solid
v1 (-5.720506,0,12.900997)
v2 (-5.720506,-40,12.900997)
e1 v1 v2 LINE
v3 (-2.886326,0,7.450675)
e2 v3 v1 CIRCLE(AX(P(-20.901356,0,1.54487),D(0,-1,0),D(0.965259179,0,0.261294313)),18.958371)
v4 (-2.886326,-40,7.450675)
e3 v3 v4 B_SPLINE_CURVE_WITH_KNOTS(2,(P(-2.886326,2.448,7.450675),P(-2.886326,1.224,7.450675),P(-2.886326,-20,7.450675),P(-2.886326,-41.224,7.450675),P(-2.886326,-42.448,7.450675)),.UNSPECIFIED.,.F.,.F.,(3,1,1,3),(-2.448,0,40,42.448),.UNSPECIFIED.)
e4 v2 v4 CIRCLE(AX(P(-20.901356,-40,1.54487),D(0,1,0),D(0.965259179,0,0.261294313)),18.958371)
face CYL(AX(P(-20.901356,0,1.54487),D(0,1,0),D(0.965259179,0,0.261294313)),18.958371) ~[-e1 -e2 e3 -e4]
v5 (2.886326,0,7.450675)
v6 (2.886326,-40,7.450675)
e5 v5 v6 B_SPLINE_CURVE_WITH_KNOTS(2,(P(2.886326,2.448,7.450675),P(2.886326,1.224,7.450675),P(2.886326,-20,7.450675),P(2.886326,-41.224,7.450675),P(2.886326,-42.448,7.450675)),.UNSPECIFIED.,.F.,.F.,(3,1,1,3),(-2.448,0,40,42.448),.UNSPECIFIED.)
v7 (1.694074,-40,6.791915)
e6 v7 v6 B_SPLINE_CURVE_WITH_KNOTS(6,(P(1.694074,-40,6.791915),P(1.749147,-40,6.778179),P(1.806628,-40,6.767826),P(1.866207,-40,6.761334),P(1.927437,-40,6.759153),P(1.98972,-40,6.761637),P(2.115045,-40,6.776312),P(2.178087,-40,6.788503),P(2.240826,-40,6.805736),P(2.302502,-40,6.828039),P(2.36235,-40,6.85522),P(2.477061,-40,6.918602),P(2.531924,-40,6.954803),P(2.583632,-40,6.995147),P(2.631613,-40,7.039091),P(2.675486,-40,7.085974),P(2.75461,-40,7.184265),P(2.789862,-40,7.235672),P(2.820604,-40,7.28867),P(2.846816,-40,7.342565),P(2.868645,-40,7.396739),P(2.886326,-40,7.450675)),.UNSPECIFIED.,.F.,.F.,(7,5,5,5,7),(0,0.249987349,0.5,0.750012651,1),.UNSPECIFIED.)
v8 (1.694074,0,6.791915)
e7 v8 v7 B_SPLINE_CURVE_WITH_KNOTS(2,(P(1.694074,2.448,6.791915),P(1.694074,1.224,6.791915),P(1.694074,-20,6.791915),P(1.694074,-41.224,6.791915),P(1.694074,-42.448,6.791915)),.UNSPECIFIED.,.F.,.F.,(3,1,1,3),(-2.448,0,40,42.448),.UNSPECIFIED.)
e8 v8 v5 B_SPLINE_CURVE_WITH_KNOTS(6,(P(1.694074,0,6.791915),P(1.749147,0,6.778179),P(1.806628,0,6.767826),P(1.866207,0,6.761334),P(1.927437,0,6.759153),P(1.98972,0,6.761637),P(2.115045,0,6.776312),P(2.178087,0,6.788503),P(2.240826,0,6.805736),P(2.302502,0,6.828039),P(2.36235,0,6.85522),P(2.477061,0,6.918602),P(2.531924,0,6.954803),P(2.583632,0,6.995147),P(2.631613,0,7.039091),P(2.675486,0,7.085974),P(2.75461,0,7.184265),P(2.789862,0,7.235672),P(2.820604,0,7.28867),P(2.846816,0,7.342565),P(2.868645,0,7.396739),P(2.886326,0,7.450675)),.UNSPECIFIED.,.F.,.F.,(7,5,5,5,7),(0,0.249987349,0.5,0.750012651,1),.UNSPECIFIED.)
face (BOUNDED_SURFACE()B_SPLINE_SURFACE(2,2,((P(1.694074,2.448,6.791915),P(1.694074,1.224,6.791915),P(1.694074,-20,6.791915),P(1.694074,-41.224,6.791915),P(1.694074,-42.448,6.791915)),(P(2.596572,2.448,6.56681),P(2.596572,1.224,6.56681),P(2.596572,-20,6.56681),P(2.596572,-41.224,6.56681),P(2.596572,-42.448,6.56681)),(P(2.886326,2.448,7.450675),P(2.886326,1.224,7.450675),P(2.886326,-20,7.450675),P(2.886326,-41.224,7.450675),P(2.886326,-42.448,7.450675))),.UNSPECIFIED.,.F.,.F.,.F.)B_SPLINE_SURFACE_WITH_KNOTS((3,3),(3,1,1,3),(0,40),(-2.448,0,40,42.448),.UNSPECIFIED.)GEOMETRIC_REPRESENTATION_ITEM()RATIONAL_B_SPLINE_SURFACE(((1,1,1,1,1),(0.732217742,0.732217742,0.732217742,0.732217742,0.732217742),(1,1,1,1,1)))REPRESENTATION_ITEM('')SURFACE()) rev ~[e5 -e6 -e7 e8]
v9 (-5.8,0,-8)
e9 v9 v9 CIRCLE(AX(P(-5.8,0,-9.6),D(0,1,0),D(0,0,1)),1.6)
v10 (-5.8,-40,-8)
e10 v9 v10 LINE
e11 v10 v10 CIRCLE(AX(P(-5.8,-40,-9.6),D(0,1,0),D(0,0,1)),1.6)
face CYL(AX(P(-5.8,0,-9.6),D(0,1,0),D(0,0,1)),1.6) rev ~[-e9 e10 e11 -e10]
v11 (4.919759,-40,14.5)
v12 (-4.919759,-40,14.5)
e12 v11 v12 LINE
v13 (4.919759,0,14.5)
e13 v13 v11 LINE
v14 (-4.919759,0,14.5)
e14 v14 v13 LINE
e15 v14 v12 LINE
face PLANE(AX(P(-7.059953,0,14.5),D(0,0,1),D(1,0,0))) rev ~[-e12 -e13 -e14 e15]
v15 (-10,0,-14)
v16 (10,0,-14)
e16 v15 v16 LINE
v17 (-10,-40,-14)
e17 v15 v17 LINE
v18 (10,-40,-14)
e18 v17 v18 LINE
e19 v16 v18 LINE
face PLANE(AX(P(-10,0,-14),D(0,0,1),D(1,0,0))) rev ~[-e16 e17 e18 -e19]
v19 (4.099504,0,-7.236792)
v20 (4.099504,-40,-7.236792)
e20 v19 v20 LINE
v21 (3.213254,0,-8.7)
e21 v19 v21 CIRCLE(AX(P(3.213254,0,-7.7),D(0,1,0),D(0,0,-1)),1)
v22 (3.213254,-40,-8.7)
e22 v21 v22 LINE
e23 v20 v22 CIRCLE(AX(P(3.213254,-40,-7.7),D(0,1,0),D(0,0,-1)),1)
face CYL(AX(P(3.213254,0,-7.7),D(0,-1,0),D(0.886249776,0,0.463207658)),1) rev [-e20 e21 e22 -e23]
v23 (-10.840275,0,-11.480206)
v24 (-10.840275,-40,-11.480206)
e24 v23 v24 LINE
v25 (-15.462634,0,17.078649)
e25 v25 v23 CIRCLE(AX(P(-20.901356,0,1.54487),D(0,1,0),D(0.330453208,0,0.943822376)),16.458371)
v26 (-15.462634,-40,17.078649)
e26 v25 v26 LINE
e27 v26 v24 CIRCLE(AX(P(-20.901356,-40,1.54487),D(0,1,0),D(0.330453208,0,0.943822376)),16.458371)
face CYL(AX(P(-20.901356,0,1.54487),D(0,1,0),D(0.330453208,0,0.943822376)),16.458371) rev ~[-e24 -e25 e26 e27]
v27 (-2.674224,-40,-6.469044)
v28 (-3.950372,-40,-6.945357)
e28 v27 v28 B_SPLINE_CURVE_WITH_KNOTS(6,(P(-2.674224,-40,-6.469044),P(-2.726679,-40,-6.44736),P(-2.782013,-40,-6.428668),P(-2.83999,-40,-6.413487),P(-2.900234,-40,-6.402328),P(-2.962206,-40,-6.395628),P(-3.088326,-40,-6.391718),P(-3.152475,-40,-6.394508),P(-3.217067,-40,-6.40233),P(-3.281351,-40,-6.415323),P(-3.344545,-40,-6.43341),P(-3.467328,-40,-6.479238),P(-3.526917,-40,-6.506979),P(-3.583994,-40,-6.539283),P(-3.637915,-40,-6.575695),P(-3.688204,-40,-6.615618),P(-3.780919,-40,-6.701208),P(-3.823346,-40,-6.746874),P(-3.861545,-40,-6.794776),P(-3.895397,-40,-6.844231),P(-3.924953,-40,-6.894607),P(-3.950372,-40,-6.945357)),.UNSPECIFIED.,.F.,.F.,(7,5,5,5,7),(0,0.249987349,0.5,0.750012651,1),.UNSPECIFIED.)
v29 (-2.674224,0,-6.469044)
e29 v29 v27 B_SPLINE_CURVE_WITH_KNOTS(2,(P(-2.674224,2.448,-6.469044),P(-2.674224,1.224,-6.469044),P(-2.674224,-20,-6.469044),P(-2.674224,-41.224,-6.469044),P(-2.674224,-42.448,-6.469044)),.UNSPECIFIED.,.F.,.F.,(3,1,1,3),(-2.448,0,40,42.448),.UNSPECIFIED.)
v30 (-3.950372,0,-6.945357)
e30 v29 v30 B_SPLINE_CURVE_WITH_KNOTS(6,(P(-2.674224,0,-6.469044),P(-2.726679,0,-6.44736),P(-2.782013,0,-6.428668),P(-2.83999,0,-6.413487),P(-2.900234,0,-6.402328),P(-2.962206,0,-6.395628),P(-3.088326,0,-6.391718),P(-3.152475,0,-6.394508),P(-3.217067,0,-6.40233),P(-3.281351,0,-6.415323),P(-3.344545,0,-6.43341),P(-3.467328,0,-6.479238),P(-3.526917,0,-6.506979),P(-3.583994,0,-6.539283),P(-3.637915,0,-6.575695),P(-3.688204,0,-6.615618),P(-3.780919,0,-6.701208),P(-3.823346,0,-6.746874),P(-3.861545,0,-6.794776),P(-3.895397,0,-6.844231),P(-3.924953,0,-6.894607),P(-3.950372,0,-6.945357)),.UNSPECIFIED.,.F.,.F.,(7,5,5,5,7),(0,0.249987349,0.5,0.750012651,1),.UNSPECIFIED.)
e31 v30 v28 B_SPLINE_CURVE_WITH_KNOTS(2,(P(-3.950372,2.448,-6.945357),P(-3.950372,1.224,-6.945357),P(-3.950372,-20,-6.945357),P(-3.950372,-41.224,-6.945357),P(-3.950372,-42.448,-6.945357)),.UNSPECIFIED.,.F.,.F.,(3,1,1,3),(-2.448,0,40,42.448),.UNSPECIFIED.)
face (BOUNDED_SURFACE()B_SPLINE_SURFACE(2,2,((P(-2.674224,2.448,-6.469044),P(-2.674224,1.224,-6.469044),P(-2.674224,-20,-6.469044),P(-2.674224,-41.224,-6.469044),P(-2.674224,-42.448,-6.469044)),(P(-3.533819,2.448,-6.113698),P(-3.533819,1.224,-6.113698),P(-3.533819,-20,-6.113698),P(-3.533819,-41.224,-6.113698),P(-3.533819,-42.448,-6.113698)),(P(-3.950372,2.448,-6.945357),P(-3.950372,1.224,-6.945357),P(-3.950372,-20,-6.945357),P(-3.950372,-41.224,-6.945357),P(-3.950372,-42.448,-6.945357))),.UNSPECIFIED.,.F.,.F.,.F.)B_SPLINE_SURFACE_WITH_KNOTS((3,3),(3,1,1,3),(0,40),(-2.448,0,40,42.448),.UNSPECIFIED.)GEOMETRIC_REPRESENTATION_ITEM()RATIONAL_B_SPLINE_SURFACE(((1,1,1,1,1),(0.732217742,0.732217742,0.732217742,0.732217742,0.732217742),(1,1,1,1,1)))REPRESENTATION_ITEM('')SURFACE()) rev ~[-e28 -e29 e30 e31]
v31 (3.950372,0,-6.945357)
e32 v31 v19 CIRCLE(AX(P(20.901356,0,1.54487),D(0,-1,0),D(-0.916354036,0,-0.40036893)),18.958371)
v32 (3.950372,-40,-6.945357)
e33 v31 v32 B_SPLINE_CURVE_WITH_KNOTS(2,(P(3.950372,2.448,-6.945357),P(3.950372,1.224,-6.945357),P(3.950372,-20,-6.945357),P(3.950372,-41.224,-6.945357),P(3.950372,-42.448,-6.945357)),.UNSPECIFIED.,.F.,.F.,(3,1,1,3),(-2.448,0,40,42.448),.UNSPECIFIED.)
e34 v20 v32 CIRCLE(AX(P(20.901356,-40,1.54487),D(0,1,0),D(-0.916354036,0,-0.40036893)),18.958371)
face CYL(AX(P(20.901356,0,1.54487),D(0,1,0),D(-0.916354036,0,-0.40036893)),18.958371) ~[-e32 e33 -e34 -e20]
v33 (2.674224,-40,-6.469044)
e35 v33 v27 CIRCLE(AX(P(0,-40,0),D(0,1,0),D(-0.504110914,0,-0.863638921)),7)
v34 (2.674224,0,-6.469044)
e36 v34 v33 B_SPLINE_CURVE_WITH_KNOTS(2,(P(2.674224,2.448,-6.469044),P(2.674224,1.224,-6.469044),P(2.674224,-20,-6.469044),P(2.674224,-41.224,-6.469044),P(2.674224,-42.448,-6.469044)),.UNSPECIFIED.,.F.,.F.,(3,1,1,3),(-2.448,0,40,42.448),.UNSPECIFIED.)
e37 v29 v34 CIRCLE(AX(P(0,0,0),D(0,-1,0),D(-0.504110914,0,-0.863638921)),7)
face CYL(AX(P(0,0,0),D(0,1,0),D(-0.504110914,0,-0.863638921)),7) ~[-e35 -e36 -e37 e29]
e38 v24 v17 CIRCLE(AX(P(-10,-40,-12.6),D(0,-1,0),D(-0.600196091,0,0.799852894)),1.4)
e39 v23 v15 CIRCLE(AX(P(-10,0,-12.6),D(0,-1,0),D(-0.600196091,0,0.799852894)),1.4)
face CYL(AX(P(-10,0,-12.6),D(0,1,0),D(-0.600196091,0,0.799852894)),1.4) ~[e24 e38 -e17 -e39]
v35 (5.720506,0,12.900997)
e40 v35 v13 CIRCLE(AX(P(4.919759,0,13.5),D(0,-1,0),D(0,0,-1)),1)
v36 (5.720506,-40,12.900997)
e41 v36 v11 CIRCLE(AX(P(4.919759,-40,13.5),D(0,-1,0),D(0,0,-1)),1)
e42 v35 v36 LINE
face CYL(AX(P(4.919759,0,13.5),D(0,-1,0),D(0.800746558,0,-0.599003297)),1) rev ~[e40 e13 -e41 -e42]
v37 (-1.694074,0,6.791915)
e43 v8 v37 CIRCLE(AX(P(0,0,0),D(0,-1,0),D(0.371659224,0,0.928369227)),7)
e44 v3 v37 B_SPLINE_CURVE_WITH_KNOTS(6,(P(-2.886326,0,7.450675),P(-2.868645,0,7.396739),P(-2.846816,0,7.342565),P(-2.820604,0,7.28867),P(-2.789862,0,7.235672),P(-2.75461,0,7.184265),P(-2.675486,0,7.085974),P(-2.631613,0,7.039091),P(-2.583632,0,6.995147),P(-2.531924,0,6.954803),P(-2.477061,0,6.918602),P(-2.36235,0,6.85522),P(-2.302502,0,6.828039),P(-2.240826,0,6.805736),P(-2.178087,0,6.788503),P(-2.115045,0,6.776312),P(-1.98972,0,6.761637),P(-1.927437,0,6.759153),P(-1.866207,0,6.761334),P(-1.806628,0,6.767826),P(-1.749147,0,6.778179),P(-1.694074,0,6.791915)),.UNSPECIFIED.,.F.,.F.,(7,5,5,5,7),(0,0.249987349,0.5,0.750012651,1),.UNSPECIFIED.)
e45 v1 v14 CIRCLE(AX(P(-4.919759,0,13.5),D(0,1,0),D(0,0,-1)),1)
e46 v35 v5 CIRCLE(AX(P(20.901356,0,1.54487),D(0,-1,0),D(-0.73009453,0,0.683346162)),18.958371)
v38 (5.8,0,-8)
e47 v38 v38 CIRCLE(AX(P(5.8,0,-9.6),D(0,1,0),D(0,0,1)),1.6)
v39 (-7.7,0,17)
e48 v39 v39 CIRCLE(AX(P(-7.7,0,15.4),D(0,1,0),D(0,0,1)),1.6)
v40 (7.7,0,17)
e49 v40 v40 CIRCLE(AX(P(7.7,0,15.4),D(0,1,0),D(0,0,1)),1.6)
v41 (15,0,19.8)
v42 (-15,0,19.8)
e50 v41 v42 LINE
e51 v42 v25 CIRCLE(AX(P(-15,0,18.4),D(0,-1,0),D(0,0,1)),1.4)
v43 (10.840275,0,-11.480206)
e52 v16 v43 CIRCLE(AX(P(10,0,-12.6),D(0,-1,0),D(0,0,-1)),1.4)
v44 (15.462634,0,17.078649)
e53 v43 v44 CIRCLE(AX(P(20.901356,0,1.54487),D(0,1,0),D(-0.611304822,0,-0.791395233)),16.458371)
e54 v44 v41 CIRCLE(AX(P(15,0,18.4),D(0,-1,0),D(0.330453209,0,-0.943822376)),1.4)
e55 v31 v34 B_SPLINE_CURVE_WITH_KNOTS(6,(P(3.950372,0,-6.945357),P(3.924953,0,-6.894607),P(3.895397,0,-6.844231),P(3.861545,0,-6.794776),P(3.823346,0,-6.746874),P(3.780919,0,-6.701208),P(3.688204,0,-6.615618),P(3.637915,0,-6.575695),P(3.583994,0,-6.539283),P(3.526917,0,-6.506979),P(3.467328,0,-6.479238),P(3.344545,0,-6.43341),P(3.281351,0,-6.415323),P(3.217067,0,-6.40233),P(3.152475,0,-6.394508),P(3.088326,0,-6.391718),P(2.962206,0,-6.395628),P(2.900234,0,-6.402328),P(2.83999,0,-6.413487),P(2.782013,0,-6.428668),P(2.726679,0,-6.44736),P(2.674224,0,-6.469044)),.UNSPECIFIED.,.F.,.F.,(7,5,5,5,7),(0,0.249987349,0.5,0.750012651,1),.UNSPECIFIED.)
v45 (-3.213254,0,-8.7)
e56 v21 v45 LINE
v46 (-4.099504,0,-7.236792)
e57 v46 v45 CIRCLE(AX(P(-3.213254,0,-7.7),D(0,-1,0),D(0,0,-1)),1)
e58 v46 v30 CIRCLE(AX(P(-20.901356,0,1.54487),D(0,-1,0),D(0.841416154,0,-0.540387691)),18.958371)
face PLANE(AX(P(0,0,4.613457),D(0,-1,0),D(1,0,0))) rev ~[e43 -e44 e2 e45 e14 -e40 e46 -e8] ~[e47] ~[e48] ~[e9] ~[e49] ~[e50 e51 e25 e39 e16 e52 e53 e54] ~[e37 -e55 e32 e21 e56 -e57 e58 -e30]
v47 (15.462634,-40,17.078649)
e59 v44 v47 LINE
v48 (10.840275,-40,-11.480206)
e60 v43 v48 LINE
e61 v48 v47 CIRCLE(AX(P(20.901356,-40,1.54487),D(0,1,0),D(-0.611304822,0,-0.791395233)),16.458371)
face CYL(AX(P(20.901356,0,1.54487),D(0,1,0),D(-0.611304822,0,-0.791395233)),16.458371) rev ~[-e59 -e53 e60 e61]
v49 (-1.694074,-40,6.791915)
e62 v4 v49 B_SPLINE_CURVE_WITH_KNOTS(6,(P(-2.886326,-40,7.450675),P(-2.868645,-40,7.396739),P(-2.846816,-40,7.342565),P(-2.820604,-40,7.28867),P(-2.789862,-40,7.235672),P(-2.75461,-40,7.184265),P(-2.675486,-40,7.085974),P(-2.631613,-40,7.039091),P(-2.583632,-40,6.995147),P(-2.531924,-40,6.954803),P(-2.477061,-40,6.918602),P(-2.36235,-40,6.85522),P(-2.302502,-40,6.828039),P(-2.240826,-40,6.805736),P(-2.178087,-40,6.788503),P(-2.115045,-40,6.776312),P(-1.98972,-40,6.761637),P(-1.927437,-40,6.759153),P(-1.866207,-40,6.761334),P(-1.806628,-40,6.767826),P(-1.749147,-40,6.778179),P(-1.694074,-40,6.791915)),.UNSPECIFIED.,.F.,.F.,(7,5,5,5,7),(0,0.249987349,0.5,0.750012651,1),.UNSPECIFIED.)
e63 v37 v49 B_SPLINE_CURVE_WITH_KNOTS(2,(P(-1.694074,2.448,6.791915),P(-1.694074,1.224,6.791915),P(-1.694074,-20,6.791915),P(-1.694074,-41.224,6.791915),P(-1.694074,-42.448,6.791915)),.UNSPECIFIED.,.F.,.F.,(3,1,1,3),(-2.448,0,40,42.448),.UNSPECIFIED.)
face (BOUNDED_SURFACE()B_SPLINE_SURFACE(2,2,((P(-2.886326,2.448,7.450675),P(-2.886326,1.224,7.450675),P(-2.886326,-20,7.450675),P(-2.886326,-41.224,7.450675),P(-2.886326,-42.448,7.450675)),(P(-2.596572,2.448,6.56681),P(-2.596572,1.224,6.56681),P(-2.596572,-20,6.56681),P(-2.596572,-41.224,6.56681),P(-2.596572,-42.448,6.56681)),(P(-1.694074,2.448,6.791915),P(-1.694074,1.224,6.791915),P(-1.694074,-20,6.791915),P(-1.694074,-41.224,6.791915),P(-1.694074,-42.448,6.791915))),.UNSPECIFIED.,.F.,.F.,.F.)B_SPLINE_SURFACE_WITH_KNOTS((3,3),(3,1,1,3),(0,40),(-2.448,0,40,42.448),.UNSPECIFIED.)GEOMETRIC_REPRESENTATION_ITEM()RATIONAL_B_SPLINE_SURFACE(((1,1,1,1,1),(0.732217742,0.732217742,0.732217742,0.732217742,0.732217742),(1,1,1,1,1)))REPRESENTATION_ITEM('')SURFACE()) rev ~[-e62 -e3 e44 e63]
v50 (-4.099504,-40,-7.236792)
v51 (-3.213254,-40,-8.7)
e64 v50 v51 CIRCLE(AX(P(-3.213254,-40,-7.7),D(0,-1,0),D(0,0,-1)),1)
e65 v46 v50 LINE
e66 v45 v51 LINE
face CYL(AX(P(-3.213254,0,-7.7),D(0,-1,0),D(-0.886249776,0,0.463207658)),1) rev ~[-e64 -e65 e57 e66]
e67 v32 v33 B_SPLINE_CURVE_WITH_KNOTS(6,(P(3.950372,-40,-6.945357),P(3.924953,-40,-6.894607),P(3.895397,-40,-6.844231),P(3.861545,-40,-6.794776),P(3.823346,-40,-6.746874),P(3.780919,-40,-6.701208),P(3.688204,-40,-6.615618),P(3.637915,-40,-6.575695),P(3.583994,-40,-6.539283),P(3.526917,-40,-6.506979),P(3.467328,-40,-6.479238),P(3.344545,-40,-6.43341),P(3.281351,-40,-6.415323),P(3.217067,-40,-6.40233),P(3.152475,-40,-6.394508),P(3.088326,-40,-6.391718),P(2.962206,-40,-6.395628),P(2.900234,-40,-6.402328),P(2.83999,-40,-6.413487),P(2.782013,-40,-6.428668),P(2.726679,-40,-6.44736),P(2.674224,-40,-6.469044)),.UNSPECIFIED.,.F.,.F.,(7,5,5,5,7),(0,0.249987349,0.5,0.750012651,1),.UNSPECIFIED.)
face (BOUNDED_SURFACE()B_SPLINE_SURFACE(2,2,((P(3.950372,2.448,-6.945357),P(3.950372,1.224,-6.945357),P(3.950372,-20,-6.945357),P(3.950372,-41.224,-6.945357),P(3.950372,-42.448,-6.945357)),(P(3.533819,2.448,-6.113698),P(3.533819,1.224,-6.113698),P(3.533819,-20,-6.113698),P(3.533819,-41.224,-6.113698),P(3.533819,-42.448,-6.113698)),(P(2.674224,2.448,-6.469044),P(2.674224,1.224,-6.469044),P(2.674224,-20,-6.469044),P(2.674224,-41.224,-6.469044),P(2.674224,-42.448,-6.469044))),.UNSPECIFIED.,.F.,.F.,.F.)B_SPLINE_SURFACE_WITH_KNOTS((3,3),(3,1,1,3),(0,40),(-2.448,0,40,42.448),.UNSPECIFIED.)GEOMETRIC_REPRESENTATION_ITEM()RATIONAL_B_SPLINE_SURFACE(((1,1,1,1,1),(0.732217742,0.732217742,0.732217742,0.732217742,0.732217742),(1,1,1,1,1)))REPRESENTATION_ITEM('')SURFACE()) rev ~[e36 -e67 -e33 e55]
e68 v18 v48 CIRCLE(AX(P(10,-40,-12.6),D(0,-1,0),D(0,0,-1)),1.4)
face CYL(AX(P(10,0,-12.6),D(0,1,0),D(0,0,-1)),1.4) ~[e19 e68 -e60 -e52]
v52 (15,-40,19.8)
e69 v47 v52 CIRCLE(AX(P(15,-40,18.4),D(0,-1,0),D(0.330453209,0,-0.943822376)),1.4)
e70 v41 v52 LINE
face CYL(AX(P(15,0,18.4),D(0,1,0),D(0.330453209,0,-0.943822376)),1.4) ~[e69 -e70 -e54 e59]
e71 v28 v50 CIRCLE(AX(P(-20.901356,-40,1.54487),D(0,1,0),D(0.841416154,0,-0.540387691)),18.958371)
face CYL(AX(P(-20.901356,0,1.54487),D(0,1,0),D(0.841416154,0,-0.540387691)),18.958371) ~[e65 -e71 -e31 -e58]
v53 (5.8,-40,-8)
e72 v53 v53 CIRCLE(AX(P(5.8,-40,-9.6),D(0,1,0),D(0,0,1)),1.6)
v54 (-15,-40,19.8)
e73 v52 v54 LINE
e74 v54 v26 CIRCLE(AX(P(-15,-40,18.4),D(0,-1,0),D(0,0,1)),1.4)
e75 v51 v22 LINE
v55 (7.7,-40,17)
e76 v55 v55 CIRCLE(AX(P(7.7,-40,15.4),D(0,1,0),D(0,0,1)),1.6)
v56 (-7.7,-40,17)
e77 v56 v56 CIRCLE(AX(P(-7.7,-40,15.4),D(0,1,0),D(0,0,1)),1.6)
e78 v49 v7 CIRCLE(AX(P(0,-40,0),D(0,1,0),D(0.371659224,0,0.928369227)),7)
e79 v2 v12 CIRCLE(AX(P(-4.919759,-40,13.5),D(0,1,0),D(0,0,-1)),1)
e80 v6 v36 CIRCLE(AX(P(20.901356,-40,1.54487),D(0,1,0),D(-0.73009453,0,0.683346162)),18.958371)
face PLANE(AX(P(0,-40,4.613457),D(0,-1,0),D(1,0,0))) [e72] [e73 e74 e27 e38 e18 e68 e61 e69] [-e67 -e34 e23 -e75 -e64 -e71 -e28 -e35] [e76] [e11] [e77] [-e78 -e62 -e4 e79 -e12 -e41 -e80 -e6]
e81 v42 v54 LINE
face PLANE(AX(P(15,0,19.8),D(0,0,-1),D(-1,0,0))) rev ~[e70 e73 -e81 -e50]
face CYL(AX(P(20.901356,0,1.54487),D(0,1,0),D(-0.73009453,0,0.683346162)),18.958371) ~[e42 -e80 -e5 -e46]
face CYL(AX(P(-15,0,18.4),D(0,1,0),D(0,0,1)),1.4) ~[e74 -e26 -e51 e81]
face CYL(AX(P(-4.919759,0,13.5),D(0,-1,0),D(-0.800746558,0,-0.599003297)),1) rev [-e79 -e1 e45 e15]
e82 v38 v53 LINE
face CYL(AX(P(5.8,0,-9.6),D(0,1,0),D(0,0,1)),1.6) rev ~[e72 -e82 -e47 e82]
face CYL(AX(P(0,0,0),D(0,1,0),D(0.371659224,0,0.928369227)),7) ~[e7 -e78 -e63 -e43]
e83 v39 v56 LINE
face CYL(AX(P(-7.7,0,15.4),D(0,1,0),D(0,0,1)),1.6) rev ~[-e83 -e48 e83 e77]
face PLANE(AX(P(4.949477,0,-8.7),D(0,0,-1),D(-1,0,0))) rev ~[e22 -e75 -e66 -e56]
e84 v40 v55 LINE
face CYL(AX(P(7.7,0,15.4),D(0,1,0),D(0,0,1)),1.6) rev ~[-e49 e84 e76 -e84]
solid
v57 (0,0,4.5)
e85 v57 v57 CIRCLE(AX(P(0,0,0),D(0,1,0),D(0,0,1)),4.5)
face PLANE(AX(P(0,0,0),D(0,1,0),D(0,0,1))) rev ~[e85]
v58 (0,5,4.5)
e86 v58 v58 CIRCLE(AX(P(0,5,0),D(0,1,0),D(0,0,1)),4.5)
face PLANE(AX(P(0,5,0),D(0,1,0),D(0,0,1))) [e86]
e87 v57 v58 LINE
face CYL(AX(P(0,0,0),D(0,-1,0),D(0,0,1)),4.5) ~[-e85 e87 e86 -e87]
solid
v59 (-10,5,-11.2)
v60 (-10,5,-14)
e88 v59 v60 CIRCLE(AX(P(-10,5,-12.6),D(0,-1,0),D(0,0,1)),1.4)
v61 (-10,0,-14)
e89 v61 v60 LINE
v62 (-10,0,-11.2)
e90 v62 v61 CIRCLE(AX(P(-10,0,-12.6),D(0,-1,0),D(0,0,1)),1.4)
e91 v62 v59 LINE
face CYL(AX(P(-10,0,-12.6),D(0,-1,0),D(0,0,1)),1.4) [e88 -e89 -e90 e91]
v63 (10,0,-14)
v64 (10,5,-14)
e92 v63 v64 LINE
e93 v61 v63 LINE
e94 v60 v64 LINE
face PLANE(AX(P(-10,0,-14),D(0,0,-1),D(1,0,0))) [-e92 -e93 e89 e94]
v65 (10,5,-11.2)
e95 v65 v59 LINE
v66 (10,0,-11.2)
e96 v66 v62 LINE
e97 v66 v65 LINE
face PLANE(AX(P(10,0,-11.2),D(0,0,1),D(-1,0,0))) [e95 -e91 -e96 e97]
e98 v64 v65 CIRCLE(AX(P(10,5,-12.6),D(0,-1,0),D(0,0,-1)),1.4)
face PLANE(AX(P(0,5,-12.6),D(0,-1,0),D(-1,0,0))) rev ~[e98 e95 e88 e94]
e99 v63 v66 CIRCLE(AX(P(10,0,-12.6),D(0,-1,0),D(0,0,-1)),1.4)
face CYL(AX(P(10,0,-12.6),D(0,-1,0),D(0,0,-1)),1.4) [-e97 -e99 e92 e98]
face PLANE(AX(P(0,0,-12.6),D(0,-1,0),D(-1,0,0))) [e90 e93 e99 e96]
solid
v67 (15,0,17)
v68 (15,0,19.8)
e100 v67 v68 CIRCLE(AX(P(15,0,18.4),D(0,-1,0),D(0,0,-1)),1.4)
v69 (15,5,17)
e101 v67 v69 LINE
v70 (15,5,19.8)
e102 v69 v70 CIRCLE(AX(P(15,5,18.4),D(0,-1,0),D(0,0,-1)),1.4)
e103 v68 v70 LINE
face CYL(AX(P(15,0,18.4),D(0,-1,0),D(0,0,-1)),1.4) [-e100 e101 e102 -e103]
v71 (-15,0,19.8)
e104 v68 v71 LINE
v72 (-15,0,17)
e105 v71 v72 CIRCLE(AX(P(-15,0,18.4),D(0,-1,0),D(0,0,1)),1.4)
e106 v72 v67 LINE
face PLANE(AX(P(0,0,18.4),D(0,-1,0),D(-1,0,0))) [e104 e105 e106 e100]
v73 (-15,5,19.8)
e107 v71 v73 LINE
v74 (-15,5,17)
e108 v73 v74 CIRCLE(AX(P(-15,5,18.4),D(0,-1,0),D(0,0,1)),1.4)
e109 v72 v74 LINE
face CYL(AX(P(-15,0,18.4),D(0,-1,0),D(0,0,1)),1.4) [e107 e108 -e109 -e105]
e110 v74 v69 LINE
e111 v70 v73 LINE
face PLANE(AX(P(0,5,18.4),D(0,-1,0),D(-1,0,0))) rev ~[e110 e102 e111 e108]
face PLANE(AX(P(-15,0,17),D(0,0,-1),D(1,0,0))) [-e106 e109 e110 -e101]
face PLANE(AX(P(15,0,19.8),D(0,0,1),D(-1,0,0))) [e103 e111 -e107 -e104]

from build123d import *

# Parameters (mm, degrees)
SKETCH1_R             = 4.5
BOSS_EXTRUDE1_DEPTH   = 5
BOSS_EXTRUDE1_2_DEPTH = 5
BOSS_EXTRUDE1_3_DEPTH = 5
BOSS_EXTRUDE2_DEPTH   = 40
CUT_EXTRUDE1_DEPTH    = 48.549973712
FILLET1_R             = 1
CUT_EXTRUDE2_DEPTH    = 48.549973872
FILLET2_R             = 1
SKETCH5_R             = 1.6
CUT_EXTRUDE3_DEPTH    = 48.549973872


with BuildPart() as part:
    # Sketch1 → Boss-Extrude1 (new body)
    with BuildSketch(Plane(origin=(0, 0, 0), x_dir=(1, 0, 0), z_dir=(0, 1, 0))):
        with Locations(Location((0, 0, 0), (0, 0, 270))):
            Circle(SKETCH1_R)
    extrude(amount=BOSS_EXTRUDE1_DEPTH)


with BuildPart() as body_2:
    # Sketch1 → Boss-Extrude1 2 (new body)
    with BuildSketch(Plane(origin=(0, 0, 0), x_dir=(1, 0, 0), z_dir=(0, 1, 0))):
        with BuildLine():
            Line((-10, 14), (10, 14))
            ThreePointArc((10, 14), (11.4, 12.6), (10, 11.2))
            Line((10, 11.2), (-10, 11.2))
            ThreePointArc((-10, 11.2), (-11.4, 12.6), (-10, 14))
        make_face()
    extrude(amount=BOSS_EXTRUDE1_2_DEPTH)


with BuildPart() as body_3:
    # Sketch1 → Boss-Extrude1 3 (new body)
    with BuildSketch(Plane(origin=(0, 0, 0), x_dir=(1, 0, 0), z_dir=(0, 1, 0))):
        with BuildLine():
            Line((-15, -17), (15, -17))
            ThreePointArc((15, -17), (16.4, -18.4), (15, -19.8))
            Line((15, -19.8), (-15, -19.8))
            ThreePointArc((-15, -19.8), (-16.4, -18.4), (-15, -17))
        make_face()
    extrude(amount=BOSS_EXTRUDE1_3_DEPTH)


with BuildPart() as body_4:
    # Sketch2 → Boss-Extrude2 (new body)
    with BuildSketch(Plane.XZ):
        with BuildLine():
            Line((15, 19.8), (-15, 19.8))
            ThreePointArc((-15, 19.8), (-16.380197786, 18.634636041), (-15.462634492, 17.078648674))
            ThreePointArc((-15.462634492, 17.078648674), (-4.654417231, 4.174499379), (-10.840274527, -11.480205948))
            ThreePointArc((-10.840274527, -11.480205948), (-11.328102344, -13.042881658), (-10, -14))
            Line((-10, -14), (10, -14))
            ThreePointArc((10, -14), (11.328102344, -13.042881658), (10.840274527, -11.480205948))
            ThreePointArc((10.840274527, -11.480205948), (4.654417231, 4.174499379), (15.462634492, 17.078648674))
            ThreePointArc((15.462634492, 17.078648674), (16.380197786, 18.634636041), (15, 19.8))
        make_face()
    extrude(amount=BOSS_EXTRUDE2_DEPTH)

    # Sketch3 → Cut-Extrude1 (cut, through all)
    with BuildSketch(Plane(origin=(0, 0, 0), x_dir=(1, 0, 0), z_dir=(0, 1, 0))):
        with BuildLine():
            Line((-7.059953154, -14.5), (7.059953154, -14.5))
            ThreePointArc((7.059953154, -14.5), (4.34028867, -10.772593144), (2.60161457, -6.498584587))
            ThreePointArc((2.60161457, -6.498584587), (0, -7), (-2.60161457, -6.498584587))
            ThreePointArc((-2.60161457, -6.498584587), (-4.34028867, -10.772593144), (-7.059953154, -14.5))
        make_face()
    extrude(amount=-CUT_EXTRUDE1_DEPTH, mode=Mode.SUBTRACT)

    # Fillet1
    fillet1_edges = [body_4.edges().sort_by_distance(p)[0] for p in [
        (-2.60161457, -20, 6.498584587),
        (2.60161457, -20, 6.498584587),
        (7.059953154, -20, 14.5),
        (-7.059953154, -20, 14.5),
    ]]
    fillet(fillet1_edges, radius=FILLET1_R)

    # Sketch4 → Cut-Extrude2 (cut, through all)
    with BuildSketch(Plane(origin=(0, 0, 0), x_dir=(1, 0, 0), z_dir=(0, 1, 0))):
        with BuildLine():
            Line((4.949476545, 8.7), (-4.949476545, 8.7))
            ThreePointArc((-4.949476545, 8.7), (-4.186347115, 7.400983677), (-3.528776397, 6.04547245))
            ThreePointArc((-3.528776397, 6.04547245), (0, 7), (3.528776397, 6.04547245))
            ThreePointArc((3.528776397, 6.04547245), (4.186347115, 7.400983677), (4.949476545, 8.7))
        make_face()
    extrude(amount=-CUT_EXTRUDE2_DEPTH, mode=Mode.SUBTRACT)

    # Fillet2
    fillet2_edges = [body_4.edges().sort_by_distance(p)[0] for p in [
        (3.528776397, -20, -6.04547245),
        (-3.528776397, -20, -6.04547245),
        (-4.949476545, -20, -8.7),
        (4.949476545, -20, -8.7),
    ]]
    fillet(fillet2_edges, radius=FILLET2_R)

    # Sketch5 → Cut-Extrude3 (cut, through all)
    with BuildSketch(Plane(origin=(0, 0, 0), x_dir=(1, 0, 0), z_dir=(0, 1, 0))):
        with Locations(Location((-7.7, -15.4, 0), (0, 0, 270))):
            Circle(SKETCH5_R)
        with Locations(Location((7.7, -15.4, 0), (0, 0, 270))):
            Circle(SKETCH5_R)
        with Locations(Location((-5.8, 9.6, 0), (0, 0, 270))):
            Circle(SKETCH5_R)
        with Locations(Location((5.8, 9.6, 0), (0, 0, 270))):
            Circle(SKETCH5_R)
    extrude(amount=-CUT_EXTRUDE3_DEPTH, mode=Mode.SUBTRACT)


solid = Compound([part.part, body_2.part, body_3.part, body_4.part])
